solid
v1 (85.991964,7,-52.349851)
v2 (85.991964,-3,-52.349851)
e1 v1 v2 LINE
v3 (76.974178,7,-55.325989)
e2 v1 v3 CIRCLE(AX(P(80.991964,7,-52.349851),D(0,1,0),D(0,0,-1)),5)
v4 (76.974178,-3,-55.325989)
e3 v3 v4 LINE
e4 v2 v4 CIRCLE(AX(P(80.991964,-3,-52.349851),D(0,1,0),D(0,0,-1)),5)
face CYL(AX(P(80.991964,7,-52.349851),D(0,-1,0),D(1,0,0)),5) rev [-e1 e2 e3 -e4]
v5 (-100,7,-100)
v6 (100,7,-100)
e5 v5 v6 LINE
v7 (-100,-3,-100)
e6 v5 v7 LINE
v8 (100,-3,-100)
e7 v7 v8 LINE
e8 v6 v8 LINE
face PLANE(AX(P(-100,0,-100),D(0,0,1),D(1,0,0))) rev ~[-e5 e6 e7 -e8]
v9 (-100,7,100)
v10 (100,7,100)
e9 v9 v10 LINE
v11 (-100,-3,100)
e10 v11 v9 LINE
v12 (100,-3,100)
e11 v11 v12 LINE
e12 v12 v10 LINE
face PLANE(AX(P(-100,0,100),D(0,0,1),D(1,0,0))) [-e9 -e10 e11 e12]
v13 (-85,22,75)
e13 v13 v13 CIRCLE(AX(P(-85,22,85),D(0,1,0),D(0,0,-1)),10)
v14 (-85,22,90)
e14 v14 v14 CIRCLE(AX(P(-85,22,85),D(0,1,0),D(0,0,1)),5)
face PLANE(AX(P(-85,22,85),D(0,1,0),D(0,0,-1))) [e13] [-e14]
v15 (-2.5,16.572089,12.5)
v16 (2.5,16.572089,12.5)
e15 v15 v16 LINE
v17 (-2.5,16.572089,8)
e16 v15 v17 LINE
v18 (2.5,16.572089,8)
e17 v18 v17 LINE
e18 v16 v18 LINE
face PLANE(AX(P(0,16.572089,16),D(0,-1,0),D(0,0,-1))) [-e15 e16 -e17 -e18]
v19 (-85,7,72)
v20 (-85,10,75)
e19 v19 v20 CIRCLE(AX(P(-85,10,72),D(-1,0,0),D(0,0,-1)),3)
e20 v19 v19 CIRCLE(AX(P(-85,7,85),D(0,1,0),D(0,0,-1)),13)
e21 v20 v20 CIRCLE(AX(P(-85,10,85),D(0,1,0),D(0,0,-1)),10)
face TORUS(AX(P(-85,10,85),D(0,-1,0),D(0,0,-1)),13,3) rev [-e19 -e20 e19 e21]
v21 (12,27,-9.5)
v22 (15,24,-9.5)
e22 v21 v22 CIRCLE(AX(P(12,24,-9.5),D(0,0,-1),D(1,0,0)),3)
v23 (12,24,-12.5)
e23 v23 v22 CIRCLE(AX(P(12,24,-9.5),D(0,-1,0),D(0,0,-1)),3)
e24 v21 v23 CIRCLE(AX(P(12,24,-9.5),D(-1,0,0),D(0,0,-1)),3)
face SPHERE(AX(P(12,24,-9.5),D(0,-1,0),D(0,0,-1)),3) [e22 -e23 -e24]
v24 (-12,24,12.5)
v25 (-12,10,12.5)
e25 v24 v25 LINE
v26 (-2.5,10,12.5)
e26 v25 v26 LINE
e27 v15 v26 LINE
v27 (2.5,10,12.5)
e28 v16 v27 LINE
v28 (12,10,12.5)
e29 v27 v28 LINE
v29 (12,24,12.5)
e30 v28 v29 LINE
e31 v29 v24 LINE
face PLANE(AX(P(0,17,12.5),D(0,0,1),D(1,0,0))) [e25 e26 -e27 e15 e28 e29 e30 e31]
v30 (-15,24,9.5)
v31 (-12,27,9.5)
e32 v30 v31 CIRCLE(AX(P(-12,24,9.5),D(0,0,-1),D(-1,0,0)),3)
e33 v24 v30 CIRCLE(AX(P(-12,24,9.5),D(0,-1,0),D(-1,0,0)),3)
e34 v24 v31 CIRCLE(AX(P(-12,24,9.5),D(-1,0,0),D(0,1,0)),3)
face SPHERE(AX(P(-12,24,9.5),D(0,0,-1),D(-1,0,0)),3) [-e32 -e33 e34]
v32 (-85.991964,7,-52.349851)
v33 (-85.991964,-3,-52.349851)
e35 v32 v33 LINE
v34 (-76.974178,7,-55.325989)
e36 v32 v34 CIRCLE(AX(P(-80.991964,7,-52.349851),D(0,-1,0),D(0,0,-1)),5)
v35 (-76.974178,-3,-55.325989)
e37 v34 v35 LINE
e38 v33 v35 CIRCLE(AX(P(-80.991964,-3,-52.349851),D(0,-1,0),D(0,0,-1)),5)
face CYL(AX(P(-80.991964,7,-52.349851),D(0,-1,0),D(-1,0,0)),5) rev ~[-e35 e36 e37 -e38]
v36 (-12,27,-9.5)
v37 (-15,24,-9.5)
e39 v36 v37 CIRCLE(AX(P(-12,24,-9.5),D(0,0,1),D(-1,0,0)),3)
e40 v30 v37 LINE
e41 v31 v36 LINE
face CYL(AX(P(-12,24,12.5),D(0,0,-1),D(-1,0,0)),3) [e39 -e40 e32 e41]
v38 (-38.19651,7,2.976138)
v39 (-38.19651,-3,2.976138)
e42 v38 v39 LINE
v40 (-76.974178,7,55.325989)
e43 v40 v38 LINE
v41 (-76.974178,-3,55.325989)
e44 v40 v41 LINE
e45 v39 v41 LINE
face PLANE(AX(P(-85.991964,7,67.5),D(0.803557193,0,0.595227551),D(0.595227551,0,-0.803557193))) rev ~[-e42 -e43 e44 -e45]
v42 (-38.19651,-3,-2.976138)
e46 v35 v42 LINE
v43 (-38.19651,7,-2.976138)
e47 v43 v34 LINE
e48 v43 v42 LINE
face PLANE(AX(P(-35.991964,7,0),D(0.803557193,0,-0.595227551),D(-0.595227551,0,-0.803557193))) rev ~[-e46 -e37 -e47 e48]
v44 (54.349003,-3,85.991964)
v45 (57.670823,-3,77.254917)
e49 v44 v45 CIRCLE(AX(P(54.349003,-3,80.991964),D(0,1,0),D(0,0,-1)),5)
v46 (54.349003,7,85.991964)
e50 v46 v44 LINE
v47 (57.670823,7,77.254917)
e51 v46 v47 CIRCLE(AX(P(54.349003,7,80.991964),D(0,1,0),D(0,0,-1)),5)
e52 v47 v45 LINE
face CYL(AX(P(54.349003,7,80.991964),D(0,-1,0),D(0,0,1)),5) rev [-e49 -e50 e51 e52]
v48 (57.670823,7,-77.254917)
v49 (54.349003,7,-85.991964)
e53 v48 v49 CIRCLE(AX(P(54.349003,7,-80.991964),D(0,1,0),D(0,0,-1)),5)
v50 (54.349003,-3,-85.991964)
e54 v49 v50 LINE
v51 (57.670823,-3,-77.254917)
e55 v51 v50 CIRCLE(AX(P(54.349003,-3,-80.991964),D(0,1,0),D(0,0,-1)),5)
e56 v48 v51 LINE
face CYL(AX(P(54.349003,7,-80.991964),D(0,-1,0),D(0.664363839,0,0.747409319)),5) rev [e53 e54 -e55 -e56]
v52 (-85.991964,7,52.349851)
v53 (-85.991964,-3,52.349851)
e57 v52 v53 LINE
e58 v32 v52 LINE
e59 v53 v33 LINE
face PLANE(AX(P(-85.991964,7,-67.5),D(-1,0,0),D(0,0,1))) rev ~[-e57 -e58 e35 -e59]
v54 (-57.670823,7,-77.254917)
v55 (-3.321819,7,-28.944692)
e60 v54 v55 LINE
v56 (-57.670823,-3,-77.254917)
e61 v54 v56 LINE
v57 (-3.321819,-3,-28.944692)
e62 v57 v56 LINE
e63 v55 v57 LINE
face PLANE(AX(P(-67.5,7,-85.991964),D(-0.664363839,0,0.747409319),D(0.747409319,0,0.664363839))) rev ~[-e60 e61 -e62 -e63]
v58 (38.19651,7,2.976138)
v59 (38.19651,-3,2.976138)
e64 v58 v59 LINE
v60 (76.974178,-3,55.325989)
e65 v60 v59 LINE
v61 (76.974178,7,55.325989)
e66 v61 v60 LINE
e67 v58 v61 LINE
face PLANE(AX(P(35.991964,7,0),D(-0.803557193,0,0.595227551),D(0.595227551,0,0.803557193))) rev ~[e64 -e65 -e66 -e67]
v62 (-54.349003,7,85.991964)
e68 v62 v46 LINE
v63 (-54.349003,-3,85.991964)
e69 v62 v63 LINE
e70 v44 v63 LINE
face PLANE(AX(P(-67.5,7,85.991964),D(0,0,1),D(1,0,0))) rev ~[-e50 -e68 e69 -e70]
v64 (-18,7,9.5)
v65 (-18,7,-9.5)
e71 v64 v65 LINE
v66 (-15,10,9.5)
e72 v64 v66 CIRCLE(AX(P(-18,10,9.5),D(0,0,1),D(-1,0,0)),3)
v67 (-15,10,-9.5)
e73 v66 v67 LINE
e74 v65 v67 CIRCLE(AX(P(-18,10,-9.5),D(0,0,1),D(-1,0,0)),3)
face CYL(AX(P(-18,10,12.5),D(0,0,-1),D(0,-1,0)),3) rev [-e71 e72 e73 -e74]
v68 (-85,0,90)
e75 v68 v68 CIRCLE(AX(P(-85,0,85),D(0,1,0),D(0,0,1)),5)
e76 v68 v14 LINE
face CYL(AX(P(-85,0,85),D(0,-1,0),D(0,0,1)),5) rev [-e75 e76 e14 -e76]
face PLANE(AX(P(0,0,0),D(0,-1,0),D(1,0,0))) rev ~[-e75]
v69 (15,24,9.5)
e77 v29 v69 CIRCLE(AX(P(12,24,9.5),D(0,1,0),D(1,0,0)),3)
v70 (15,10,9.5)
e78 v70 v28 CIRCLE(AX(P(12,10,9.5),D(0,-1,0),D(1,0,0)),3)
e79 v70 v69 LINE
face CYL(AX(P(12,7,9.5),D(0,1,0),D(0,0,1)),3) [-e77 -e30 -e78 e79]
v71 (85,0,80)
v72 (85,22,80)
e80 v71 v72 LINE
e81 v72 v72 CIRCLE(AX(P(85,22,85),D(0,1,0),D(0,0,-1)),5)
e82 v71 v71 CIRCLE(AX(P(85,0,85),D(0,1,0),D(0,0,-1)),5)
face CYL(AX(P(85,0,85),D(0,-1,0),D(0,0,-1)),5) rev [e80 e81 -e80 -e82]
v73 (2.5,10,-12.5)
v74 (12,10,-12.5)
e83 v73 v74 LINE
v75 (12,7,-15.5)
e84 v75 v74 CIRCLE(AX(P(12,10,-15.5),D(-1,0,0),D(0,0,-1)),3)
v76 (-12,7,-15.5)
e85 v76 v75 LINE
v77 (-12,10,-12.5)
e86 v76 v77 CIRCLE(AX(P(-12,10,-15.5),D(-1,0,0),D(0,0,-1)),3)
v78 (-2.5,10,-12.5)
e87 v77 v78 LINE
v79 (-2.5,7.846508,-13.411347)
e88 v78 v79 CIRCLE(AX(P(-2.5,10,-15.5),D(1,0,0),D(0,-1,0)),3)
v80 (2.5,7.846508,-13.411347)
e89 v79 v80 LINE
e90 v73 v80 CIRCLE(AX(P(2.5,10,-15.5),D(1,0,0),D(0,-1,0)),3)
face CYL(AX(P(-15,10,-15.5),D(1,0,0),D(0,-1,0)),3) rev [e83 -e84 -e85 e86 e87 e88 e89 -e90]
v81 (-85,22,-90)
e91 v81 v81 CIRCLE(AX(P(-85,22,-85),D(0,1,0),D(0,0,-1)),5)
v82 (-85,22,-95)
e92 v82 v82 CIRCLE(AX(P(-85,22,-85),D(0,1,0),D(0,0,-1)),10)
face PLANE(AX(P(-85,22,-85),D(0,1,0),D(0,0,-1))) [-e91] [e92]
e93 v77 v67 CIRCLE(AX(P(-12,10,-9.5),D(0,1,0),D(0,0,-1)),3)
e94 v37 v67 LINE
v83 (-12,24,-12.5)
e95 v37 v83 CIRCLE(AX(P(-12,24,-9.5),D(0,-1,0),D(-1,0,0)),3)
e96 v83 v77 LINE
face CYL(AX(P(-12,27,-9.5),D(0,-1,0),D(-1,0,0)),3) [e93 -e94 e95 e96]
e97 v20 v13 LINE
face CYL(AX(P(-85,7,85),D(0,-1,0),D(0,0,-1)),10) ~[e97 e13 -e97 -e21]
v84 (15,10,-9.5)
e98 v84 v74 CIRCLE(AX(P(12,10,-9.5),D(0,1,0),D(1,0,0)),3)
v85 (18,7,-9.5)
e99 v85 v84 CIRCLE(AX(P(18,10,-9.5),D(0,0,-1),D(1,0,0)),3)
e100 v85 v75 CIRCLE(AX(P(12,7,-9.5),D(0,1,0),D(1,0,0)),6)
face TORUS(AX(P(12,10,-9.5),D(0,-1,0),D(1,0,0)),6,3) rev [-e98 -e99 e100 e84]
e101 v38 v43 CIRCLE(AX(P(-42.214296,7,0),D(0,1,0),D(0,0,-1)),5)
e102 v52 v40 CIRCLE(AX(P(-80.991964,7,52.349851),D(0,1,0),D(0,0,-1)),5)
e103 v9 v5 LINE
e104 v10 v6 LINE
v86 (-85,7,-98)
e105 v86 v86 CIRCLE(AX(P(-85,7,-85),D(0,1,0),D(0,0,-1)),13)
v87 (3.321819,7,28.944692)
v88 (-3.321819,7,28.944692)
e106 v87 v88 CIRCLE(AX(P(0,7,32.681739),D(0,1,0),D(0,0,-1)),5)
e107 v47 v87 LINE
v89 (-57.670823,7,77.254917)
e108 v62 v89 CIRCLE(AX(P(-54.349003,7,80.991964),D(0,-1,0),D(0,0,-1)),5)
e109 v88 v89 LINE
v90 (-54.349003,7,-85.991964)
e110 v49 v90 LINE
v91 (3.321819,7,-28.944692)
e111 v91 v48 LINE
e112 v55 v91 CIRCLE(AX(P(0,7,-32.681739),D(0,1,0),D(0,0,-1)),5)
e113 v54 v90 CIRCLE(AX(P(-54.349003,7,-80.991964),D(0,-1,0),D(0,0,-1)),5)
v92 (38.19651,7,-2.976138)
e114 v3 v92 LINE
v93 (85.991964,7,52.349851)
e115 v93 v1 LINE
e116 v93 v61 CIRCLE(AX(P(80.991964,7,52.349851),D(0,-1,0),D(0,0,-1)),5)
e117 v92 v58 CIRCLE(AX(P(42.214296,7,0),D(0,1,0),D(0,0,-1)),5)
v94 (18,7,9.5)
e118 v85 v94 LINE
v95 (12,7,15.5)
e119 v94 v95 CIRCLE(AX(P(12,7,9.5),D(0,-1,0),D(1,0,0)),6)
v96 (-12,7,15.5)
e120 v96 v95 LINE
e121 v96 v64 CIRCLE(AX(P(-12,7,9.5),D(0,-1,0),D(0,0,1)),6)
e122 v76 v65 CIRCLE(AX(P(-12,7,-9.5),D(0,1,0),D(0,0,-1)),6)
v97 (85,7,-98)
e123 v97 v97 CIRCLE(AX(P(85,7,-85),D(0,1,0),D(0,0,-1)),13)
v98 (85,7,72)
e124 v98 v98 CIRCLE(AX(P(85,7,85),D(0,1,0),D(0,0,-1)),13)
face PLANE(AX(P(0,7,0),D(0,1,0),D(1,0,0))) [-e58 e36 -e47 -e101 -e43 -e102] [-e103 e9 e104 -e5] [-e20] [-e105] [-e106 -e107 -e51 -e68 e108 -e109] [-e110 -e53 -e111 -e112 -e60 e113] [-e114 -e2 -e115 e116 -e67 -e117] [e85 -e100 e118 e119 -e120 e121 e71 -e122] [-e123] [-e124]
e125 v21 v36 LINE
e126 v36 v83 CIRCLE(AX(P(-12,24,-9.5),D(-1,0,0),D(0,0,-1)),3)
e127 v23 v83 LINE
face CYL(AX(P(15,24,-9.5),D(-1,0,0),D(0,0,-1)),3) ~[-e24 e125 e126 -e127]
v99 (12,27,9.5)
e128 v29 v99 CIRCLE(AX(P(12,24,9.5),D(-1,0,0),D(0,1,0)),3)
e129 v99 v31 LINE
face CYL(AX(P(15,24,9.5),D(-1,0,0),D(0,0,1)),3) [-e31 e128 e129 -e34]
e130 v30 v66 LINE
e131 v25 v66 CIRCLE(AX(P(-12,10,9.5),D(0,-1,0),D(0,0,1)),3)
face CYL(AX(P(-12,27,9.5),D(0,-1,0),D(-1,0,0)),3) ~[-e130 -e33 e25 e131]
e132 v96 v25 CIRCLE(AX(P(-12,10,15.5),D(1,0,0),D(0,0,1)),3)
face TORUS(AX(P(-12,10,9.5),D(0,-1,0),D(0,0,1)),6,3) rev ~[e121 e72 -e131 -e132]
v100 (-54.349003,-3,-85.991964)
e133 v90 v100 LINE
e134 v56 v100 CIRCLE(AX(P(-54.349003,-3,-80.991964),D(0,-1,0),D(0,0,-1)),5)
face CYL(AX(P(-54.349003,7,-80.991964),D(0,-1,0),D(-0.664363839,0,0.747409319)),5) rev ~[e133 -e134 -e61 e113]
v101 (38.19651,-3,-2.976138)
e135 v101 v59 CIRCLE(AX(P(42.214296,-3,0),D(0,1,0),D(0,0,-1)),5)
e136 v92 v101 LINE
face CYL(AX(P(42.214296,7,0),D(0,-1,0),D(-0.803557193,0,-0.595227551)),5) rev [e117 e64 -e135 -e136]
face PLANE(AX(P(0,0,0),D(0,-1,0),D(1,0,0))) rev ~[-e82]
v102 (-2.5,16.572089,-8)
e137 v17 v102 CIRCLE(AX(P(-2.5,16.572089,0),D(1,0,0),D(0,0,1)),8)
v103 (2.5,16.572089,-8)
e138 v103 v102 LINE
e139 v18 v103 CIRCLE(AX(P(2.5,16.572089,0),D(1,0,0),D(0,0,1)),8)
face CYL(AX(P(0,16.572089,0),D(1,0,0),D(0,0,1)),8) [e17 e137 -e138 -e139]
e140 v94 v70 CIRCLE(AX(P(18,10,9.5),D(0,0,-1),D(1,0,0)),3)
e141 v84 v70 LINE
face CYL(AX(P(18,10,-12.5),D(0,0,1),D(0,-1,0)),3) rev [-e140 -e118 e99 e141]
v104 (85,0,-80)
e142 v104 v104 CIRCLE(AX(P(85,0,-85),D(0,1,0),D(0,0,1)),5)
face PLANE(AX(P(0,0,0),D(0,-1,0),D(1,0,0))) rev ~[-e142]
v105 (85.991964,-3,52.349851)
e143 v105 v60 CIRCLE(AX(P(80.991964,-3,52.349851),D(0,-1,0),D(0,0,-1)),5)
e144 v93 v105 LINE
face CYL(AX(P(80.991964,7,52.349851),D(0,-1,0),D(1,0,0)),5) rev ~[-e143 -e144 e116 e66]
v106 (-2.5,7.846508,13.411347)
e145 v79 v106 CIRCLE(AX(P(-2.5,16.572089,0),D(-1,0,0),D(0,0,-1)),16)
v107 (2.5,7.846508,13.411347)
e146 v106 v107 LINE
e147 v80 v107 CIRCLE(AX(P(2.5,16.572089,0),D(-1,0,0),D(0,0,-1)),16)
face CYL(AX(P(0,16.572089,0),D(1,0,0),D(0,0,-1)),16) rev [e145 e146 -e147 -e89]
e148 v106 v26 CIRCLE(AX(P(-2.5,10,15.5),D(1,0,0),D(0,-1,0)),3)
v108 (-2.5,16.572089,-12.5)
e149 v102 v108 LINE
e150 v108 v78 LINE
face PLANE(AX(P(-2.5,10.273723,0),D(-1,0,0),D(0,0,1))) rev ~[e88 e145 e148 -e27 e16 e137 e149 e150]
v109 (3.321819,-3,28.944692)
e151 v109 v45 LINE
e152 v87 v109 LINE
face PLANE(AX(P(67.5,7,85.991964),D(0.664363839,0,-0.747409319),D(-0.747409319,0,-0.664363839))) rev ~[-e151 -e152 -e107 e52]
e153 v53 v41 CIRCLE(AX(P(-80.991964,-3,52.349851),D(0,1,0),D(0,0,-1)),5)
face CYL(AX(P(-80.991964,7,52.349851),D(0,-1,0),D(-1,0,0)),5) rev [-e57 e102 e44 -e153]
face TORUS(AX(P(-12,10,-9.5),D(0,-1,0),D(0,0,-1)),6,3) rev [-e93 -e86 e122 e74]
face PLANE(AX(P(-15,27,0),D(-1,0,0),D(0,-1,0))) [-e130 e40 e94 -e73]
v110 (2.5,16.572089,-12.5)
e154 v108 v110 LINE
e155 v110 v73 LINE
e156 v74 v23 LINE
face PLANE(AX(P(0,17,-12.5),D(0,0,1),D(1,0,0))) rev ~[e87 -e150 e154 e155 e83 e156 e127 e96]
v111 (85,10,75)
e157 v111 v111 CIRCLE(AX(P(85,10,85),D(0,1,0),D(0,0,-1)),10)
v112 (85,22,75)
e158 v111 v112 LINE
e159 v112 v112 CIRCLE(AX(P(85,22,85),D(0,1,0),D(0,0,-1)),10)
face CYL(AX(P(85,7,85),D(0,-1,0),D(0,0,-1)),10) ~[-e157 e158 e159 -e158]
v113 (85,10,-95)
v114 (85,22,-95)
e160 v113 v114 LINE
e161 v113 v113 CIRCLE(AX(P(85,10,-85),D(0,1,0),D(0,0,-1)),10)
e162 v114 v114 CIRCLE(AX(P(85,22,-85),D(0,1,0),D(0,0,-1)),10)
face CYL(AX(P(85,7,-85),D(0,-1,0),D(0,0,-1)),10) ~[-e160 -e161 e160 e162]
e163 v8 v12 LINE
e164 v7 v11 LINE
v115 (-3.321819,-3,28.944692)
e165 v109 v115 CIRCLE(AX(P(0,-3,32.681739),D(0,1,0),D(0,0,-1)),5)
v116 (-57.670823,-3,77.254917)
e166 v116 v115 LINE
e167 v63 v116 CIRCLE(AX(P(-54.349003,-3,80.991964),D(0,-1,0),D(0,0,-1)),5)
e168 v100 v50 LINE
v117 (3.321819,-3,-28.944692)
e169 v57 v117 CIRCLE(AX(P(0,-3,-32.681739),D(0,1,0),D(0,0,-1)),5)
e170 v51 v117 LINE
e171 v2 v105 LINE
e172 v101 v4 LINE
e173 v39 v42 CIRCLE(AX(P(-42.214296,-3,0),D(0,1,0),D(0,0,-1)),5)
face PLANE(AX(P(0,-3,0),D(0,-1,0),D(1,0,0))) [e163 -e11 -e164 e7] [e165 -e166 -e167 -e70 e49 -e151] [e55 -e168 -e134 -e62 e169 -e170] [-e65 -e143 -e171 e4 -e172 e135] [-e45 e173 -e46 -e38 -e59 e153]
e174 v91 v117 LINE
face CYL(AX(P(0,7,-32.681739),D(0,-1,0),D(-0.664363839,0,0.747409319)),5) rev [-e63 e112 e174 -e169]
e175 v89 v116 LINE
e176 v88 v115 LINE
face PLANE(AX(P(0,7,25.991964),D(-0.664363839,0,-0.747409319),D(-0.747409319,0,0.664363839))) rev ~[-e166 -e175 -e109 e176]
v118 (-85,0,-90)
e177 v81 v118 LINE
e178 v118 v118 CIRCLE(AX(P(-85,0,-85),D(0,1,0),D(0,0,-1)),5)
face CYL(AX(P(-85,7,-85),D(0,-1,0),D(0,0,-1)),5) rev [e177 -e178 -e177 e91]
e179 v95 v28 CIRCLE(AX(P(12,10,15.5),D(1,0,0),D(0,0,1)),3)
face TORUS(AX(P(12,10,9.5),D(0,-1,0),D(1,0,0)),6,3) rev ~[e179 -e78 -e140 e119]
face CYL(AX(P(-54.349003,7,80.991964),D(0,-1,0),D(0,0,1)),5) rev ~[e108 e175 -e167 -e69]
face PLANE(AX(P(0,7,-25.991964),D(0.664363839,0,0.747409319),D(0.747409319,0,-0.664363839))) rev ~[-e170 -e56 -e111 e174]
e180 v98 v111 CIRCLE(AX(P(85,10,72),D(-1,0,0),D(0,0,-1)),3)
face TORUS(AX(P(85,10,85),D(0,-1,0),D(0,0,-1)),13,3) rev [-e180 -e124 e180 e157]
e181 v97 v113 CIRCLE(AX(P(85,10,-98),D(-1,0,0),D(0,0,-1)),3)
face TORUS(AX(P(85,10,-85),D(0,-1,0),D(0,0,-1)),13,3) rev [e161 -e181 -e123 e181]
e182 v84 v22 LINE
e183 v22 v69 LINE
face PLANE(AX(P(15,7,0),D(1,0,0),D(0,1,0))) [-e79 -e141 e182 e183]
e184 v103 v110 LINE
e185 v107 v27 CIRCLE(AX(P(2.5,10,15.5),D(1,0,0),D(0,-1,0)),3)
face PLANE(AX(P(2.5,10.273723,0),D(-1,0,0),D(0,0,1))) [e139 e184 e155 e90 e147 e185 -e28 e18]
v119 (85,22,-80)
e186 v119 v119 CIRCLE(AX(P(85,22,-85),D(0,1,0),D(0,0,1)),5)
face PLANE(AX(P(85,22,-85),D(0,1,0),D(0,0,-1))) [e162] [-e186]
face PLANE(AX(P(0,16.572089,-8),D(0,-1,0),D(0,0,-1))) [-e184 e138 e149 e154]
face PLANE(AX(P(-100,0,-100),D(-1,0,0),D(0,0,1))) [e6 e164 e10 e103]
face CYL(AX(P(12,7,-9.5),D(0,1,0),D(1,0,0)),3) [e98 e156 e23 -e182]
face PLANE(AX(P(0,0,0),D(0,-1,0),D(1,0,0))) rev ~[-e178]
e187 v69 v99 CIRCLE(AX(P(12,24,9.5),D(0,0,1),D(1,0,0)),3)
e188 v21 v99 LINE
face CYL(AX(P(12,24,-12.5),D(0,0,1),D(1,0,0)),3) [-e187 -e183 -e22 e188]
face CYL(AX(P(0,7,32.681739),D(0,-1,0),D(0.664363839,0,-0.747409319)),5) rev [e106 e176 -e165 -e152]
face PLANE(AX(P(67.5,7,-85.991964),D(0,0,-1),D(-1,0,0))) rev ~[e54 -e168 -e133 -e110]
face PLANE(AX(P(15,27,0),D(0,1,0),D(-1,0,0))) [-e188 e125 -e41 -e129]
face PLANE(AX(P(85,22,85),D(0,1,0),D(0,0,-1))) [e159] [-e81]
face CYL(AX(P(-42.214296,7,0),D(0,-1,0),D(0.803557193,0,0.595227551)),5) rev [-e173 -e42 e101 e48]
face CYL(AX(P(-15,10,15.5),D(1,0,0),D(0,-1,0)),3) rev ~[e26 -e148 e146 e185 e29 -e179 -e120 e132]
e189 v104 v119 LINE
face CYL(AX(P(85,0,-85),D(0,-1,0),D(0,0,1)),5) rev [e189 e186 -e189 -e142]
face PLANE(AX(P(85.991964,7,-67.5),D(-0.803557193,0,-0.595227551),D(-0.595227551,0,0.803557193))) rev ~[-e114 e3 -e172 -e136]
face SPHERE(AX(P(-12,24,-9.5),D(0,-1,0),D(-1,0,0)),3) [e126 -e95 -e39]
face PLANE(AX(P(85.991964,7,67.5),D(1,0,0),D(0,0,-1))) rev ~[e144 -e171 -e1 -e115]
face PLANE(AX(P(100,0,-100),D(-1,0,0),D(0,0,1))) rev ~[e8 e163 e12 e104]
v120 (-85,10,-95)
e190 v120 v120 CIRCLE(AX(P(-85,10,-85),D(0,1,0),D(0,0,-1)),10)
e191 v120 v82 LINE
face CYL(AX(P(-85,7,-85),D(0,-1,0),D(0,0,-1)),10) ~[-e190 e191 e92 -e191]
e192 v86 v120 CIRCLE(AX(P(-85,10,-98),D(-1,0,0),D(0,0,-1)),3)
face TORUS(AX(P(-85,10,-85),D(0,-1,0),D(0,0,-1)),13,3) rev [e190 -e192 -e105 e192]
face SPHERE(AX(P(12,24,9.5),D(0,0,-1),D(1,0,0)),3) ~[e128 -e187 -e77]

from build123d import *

# Parameters (mm, degrees)
SKETCH_1_W          = 200
SKETCH_1_H          = 200
SKETCH_1_R          = 5
EXTRUDE_1_DEPTH     = 7
SKETCH_2_R          = 10
SKETCH_2_R_2        = 5
EXTRUDE_2_DEPTH     = 15
SKETCH_3_W          = 200
SKETCH_3_H          = 200
EXTRUDE_3_DEPTH     = 3
EXTRUDE_4_DEPTH     = 12.5
FILLET_1_R          = 3
CUT_EXTRUDE_1_DEPTH = 2.5
CUT_EXTRUDE_2_DEPTH = 143.828568571
FILLET_2_R          = 5


with BuildPart() as part:
    # 草圖1 → 填料-伸長1 (new body)
    with BuildSketch(Plane(origin=(0, 0, 0), x_dir=(1, 0, 0), z_dir=(0, 1, 0))):
        Rectangle(SKETCH_1_W, SKETCH_1_H)
        with Locations(Location((85, 85, 0), (0, 0, 270))):
            Circle(SKETCH_1_R, mode=Mode.SUBTRACT)
        with Locations(Location((-85, 85, 0), (0, 0, 90))):
            Circle(SKETCH_1_R, mode=Mode.SUBTRACT)
        with Locations(Location((85, -85, 0), (0, 0, 90))):
            Circle(SKETCH_1_R, mode=Mode.SUBTRACT)
        with Locations(Location((-85, -85, 0), (0, 0, 270))):
            Circle(SKETCH_1_R, mode=Mode.SUBTRACT)
    extrude(amount=EXTRUDE_1_DEPTH)

    # 草圖2 → 填料-伸長2 (add)
    # profile 1 of 4: a face of its own
    with BuildSketch(Plane(origin=(0, 7, 0), x_dir=(1, 0, 0), z_dir=(0, 1, 0))):
        with Locations(Location((-85, 85, 0), (0, 0, 90))):
            Circle(SKETCH_2_R)
        with Locations(Location((-85, 85, 0), (0, 0, 90))):
            Circle(SKETCH_2_R_2, mode=Mode.SUBTRACT)
    # profile 2 of 4: a face of its own
    with BuildSketch(Plane(origin=(0, 7, 0), x_dir=(1, 0, 0), z_dir=(0, 1, 0))):
        with Locations(Location((85, 85, 0), (0, 0, 90))):
            Circle(SKETCH_2_R)
        with Locations(Location((85, 85, 0), (0, 0, 270))):
            Circle(SKETCH_2_R_2, mode=Mode.SUBTRACT)
    # profile 3 of 4: a face of its own
    with BuildSketch(Plane(origin=(0, 7, 0), x_dir=(1, 0, 0), z_dir=(0, 1, 0))):
        with Locations(Location((85, -85, 0), (0, 0, 90))):
            Circle(SKETCH_2_R)
        with Locations(Location((85, -85, 0), (0, 0, 90))):
            Circle(SKETCH_2_R_2, mode=Mode.SUBTRACT)
    # profile 4 of 4: a face of its own
    with BuildSketch(Plane(origin=(0, 7, 0), x_dir=(1, 0, 0), z_dir=(0, 1, 0))):
        with Locations(Location((-85, -85, 0), (0, 0, 90))):
            Circle(SKETCH_2_R)
        with Locations(Location((-85, -85, 0), (0, 0, 270))):
            Circle(SKETCH_2_R_2, mode=Mode.SUBTRACT)
    extrude(amount=EXTRUDE_2_DEPTH)

    # 草圖3 → 填料-伸長3 (add)
    with BuildSketch(Plane.XZ):
        Rectangle(SKETCH_3_W, SKETCH_3_H)
    extrude(amount=EXTRUDE_3_DEPTH)

    # 草圖4 → 填料-伸長4 (add, symmetric)
    with BuildSketch(Plane.XY):
        Polygon((-15, 7), (-2.5, 7), (2.5, 7), (15, 7), (15, 27), (-15, 27), align=None)
    extrude(amount=EXTRUDE_4_DEPTH, both=True)

    # 圓角1
    fillet_1_edges = [part.edges().sort_by_distance(p)[0] for p in [
        (-85, 7, -75),
        (85, 7, -75),
        (85, 7, 95),
        (-85, 7, 95),
        (-15, 17, -12.5),
        (-15, 27, 0),
        (0, 7, -12.5),
        (-15, 7, 0),
        (15, 17, -12.5),
        (15, 7, 0),
        (0, 27, -12.5),
        (15, 27, 0),
        (-15, 17, 12.5),
        (0, 7, 12.5),
        (15, 17, 12.5),
        (0, 27, 12.5),
    ]]
    fillet(fillet_1_edges, radius=FILLET_1_R)

    # 草圖5 → 除料-伸長1 (cut, symmetric)
    with BuildSketch(Plane(origin=(0, 0, 0), x_dir=(0, 0, -1), z_dir=(1, 0, 0))):
        with BuildLine():
            Line((-16, 16.572089393), (-8, 16.572089393))
            ThreePointArc((-8, 16.572089393), (0, 8.572089393), (8, 16.572089393))
            Line((8, 16.572089393), (16, 16.572089393))
            ThreePointArc((16, 16.572089393), (0, 0.572089393), (-16, 16.572089393))
        make_face()
    extrude(amount=CUT_EXTRUDE_1_DEPTH, both=True, mode=Mode.SUBTRACT)

    # 草圖6 → 除料-伸長2 (cut, through all)
    with BuildSketch(Plane(origin=(0, 7, 0), x_dir=(1, 0, 0), z_dir=(0, 1, 0))):
        Polygon((-67.5, 85.991963893), (0, 25.991963893), (67.5, 85.991963893), align=None)
        Polygon((85.991963893, -67.5), (85.991963893, 67.5), (35.991963893, 0), align=None)
        Polygon((-67.5, -85.991963893), (67.5, -85.991963893), (0, -25.991963893), align=None)
        Polygon((-85.991963893, 67.5), (-85.991963893, -67.5), (-35.991963893, 0), align=None)
    extrude(amount=-CUT_EXTRUDE_2_DEPTH, mode=Mode.SUBTRACT)

    # 圓角2
    fillet_2_edges = [part.edges().sort_by_distance(p)[0] for p in [
        (0, 2, 25.991963893),
        (67.5, 2, 85.991963893),
        (-67.5, 2, 85.991963893),
        (35.991963893, 2, 0),
        (85.991963893, 2, -67.5),
        (85.991963893, 2, 67.5),
        (-35.991963893, 2, 0),
        (-85.991963893, 2, 67.5),
        (-85.991963893, 2, -67.5),
        (-67.5, 2, -85.991963893),
        (67.5, 2, -85.991963893),
        (0, 2, -25.991963893),
    ]]
    fillet(fillet_2_edges, radius=FILLET_2_R)


solid = part.part
